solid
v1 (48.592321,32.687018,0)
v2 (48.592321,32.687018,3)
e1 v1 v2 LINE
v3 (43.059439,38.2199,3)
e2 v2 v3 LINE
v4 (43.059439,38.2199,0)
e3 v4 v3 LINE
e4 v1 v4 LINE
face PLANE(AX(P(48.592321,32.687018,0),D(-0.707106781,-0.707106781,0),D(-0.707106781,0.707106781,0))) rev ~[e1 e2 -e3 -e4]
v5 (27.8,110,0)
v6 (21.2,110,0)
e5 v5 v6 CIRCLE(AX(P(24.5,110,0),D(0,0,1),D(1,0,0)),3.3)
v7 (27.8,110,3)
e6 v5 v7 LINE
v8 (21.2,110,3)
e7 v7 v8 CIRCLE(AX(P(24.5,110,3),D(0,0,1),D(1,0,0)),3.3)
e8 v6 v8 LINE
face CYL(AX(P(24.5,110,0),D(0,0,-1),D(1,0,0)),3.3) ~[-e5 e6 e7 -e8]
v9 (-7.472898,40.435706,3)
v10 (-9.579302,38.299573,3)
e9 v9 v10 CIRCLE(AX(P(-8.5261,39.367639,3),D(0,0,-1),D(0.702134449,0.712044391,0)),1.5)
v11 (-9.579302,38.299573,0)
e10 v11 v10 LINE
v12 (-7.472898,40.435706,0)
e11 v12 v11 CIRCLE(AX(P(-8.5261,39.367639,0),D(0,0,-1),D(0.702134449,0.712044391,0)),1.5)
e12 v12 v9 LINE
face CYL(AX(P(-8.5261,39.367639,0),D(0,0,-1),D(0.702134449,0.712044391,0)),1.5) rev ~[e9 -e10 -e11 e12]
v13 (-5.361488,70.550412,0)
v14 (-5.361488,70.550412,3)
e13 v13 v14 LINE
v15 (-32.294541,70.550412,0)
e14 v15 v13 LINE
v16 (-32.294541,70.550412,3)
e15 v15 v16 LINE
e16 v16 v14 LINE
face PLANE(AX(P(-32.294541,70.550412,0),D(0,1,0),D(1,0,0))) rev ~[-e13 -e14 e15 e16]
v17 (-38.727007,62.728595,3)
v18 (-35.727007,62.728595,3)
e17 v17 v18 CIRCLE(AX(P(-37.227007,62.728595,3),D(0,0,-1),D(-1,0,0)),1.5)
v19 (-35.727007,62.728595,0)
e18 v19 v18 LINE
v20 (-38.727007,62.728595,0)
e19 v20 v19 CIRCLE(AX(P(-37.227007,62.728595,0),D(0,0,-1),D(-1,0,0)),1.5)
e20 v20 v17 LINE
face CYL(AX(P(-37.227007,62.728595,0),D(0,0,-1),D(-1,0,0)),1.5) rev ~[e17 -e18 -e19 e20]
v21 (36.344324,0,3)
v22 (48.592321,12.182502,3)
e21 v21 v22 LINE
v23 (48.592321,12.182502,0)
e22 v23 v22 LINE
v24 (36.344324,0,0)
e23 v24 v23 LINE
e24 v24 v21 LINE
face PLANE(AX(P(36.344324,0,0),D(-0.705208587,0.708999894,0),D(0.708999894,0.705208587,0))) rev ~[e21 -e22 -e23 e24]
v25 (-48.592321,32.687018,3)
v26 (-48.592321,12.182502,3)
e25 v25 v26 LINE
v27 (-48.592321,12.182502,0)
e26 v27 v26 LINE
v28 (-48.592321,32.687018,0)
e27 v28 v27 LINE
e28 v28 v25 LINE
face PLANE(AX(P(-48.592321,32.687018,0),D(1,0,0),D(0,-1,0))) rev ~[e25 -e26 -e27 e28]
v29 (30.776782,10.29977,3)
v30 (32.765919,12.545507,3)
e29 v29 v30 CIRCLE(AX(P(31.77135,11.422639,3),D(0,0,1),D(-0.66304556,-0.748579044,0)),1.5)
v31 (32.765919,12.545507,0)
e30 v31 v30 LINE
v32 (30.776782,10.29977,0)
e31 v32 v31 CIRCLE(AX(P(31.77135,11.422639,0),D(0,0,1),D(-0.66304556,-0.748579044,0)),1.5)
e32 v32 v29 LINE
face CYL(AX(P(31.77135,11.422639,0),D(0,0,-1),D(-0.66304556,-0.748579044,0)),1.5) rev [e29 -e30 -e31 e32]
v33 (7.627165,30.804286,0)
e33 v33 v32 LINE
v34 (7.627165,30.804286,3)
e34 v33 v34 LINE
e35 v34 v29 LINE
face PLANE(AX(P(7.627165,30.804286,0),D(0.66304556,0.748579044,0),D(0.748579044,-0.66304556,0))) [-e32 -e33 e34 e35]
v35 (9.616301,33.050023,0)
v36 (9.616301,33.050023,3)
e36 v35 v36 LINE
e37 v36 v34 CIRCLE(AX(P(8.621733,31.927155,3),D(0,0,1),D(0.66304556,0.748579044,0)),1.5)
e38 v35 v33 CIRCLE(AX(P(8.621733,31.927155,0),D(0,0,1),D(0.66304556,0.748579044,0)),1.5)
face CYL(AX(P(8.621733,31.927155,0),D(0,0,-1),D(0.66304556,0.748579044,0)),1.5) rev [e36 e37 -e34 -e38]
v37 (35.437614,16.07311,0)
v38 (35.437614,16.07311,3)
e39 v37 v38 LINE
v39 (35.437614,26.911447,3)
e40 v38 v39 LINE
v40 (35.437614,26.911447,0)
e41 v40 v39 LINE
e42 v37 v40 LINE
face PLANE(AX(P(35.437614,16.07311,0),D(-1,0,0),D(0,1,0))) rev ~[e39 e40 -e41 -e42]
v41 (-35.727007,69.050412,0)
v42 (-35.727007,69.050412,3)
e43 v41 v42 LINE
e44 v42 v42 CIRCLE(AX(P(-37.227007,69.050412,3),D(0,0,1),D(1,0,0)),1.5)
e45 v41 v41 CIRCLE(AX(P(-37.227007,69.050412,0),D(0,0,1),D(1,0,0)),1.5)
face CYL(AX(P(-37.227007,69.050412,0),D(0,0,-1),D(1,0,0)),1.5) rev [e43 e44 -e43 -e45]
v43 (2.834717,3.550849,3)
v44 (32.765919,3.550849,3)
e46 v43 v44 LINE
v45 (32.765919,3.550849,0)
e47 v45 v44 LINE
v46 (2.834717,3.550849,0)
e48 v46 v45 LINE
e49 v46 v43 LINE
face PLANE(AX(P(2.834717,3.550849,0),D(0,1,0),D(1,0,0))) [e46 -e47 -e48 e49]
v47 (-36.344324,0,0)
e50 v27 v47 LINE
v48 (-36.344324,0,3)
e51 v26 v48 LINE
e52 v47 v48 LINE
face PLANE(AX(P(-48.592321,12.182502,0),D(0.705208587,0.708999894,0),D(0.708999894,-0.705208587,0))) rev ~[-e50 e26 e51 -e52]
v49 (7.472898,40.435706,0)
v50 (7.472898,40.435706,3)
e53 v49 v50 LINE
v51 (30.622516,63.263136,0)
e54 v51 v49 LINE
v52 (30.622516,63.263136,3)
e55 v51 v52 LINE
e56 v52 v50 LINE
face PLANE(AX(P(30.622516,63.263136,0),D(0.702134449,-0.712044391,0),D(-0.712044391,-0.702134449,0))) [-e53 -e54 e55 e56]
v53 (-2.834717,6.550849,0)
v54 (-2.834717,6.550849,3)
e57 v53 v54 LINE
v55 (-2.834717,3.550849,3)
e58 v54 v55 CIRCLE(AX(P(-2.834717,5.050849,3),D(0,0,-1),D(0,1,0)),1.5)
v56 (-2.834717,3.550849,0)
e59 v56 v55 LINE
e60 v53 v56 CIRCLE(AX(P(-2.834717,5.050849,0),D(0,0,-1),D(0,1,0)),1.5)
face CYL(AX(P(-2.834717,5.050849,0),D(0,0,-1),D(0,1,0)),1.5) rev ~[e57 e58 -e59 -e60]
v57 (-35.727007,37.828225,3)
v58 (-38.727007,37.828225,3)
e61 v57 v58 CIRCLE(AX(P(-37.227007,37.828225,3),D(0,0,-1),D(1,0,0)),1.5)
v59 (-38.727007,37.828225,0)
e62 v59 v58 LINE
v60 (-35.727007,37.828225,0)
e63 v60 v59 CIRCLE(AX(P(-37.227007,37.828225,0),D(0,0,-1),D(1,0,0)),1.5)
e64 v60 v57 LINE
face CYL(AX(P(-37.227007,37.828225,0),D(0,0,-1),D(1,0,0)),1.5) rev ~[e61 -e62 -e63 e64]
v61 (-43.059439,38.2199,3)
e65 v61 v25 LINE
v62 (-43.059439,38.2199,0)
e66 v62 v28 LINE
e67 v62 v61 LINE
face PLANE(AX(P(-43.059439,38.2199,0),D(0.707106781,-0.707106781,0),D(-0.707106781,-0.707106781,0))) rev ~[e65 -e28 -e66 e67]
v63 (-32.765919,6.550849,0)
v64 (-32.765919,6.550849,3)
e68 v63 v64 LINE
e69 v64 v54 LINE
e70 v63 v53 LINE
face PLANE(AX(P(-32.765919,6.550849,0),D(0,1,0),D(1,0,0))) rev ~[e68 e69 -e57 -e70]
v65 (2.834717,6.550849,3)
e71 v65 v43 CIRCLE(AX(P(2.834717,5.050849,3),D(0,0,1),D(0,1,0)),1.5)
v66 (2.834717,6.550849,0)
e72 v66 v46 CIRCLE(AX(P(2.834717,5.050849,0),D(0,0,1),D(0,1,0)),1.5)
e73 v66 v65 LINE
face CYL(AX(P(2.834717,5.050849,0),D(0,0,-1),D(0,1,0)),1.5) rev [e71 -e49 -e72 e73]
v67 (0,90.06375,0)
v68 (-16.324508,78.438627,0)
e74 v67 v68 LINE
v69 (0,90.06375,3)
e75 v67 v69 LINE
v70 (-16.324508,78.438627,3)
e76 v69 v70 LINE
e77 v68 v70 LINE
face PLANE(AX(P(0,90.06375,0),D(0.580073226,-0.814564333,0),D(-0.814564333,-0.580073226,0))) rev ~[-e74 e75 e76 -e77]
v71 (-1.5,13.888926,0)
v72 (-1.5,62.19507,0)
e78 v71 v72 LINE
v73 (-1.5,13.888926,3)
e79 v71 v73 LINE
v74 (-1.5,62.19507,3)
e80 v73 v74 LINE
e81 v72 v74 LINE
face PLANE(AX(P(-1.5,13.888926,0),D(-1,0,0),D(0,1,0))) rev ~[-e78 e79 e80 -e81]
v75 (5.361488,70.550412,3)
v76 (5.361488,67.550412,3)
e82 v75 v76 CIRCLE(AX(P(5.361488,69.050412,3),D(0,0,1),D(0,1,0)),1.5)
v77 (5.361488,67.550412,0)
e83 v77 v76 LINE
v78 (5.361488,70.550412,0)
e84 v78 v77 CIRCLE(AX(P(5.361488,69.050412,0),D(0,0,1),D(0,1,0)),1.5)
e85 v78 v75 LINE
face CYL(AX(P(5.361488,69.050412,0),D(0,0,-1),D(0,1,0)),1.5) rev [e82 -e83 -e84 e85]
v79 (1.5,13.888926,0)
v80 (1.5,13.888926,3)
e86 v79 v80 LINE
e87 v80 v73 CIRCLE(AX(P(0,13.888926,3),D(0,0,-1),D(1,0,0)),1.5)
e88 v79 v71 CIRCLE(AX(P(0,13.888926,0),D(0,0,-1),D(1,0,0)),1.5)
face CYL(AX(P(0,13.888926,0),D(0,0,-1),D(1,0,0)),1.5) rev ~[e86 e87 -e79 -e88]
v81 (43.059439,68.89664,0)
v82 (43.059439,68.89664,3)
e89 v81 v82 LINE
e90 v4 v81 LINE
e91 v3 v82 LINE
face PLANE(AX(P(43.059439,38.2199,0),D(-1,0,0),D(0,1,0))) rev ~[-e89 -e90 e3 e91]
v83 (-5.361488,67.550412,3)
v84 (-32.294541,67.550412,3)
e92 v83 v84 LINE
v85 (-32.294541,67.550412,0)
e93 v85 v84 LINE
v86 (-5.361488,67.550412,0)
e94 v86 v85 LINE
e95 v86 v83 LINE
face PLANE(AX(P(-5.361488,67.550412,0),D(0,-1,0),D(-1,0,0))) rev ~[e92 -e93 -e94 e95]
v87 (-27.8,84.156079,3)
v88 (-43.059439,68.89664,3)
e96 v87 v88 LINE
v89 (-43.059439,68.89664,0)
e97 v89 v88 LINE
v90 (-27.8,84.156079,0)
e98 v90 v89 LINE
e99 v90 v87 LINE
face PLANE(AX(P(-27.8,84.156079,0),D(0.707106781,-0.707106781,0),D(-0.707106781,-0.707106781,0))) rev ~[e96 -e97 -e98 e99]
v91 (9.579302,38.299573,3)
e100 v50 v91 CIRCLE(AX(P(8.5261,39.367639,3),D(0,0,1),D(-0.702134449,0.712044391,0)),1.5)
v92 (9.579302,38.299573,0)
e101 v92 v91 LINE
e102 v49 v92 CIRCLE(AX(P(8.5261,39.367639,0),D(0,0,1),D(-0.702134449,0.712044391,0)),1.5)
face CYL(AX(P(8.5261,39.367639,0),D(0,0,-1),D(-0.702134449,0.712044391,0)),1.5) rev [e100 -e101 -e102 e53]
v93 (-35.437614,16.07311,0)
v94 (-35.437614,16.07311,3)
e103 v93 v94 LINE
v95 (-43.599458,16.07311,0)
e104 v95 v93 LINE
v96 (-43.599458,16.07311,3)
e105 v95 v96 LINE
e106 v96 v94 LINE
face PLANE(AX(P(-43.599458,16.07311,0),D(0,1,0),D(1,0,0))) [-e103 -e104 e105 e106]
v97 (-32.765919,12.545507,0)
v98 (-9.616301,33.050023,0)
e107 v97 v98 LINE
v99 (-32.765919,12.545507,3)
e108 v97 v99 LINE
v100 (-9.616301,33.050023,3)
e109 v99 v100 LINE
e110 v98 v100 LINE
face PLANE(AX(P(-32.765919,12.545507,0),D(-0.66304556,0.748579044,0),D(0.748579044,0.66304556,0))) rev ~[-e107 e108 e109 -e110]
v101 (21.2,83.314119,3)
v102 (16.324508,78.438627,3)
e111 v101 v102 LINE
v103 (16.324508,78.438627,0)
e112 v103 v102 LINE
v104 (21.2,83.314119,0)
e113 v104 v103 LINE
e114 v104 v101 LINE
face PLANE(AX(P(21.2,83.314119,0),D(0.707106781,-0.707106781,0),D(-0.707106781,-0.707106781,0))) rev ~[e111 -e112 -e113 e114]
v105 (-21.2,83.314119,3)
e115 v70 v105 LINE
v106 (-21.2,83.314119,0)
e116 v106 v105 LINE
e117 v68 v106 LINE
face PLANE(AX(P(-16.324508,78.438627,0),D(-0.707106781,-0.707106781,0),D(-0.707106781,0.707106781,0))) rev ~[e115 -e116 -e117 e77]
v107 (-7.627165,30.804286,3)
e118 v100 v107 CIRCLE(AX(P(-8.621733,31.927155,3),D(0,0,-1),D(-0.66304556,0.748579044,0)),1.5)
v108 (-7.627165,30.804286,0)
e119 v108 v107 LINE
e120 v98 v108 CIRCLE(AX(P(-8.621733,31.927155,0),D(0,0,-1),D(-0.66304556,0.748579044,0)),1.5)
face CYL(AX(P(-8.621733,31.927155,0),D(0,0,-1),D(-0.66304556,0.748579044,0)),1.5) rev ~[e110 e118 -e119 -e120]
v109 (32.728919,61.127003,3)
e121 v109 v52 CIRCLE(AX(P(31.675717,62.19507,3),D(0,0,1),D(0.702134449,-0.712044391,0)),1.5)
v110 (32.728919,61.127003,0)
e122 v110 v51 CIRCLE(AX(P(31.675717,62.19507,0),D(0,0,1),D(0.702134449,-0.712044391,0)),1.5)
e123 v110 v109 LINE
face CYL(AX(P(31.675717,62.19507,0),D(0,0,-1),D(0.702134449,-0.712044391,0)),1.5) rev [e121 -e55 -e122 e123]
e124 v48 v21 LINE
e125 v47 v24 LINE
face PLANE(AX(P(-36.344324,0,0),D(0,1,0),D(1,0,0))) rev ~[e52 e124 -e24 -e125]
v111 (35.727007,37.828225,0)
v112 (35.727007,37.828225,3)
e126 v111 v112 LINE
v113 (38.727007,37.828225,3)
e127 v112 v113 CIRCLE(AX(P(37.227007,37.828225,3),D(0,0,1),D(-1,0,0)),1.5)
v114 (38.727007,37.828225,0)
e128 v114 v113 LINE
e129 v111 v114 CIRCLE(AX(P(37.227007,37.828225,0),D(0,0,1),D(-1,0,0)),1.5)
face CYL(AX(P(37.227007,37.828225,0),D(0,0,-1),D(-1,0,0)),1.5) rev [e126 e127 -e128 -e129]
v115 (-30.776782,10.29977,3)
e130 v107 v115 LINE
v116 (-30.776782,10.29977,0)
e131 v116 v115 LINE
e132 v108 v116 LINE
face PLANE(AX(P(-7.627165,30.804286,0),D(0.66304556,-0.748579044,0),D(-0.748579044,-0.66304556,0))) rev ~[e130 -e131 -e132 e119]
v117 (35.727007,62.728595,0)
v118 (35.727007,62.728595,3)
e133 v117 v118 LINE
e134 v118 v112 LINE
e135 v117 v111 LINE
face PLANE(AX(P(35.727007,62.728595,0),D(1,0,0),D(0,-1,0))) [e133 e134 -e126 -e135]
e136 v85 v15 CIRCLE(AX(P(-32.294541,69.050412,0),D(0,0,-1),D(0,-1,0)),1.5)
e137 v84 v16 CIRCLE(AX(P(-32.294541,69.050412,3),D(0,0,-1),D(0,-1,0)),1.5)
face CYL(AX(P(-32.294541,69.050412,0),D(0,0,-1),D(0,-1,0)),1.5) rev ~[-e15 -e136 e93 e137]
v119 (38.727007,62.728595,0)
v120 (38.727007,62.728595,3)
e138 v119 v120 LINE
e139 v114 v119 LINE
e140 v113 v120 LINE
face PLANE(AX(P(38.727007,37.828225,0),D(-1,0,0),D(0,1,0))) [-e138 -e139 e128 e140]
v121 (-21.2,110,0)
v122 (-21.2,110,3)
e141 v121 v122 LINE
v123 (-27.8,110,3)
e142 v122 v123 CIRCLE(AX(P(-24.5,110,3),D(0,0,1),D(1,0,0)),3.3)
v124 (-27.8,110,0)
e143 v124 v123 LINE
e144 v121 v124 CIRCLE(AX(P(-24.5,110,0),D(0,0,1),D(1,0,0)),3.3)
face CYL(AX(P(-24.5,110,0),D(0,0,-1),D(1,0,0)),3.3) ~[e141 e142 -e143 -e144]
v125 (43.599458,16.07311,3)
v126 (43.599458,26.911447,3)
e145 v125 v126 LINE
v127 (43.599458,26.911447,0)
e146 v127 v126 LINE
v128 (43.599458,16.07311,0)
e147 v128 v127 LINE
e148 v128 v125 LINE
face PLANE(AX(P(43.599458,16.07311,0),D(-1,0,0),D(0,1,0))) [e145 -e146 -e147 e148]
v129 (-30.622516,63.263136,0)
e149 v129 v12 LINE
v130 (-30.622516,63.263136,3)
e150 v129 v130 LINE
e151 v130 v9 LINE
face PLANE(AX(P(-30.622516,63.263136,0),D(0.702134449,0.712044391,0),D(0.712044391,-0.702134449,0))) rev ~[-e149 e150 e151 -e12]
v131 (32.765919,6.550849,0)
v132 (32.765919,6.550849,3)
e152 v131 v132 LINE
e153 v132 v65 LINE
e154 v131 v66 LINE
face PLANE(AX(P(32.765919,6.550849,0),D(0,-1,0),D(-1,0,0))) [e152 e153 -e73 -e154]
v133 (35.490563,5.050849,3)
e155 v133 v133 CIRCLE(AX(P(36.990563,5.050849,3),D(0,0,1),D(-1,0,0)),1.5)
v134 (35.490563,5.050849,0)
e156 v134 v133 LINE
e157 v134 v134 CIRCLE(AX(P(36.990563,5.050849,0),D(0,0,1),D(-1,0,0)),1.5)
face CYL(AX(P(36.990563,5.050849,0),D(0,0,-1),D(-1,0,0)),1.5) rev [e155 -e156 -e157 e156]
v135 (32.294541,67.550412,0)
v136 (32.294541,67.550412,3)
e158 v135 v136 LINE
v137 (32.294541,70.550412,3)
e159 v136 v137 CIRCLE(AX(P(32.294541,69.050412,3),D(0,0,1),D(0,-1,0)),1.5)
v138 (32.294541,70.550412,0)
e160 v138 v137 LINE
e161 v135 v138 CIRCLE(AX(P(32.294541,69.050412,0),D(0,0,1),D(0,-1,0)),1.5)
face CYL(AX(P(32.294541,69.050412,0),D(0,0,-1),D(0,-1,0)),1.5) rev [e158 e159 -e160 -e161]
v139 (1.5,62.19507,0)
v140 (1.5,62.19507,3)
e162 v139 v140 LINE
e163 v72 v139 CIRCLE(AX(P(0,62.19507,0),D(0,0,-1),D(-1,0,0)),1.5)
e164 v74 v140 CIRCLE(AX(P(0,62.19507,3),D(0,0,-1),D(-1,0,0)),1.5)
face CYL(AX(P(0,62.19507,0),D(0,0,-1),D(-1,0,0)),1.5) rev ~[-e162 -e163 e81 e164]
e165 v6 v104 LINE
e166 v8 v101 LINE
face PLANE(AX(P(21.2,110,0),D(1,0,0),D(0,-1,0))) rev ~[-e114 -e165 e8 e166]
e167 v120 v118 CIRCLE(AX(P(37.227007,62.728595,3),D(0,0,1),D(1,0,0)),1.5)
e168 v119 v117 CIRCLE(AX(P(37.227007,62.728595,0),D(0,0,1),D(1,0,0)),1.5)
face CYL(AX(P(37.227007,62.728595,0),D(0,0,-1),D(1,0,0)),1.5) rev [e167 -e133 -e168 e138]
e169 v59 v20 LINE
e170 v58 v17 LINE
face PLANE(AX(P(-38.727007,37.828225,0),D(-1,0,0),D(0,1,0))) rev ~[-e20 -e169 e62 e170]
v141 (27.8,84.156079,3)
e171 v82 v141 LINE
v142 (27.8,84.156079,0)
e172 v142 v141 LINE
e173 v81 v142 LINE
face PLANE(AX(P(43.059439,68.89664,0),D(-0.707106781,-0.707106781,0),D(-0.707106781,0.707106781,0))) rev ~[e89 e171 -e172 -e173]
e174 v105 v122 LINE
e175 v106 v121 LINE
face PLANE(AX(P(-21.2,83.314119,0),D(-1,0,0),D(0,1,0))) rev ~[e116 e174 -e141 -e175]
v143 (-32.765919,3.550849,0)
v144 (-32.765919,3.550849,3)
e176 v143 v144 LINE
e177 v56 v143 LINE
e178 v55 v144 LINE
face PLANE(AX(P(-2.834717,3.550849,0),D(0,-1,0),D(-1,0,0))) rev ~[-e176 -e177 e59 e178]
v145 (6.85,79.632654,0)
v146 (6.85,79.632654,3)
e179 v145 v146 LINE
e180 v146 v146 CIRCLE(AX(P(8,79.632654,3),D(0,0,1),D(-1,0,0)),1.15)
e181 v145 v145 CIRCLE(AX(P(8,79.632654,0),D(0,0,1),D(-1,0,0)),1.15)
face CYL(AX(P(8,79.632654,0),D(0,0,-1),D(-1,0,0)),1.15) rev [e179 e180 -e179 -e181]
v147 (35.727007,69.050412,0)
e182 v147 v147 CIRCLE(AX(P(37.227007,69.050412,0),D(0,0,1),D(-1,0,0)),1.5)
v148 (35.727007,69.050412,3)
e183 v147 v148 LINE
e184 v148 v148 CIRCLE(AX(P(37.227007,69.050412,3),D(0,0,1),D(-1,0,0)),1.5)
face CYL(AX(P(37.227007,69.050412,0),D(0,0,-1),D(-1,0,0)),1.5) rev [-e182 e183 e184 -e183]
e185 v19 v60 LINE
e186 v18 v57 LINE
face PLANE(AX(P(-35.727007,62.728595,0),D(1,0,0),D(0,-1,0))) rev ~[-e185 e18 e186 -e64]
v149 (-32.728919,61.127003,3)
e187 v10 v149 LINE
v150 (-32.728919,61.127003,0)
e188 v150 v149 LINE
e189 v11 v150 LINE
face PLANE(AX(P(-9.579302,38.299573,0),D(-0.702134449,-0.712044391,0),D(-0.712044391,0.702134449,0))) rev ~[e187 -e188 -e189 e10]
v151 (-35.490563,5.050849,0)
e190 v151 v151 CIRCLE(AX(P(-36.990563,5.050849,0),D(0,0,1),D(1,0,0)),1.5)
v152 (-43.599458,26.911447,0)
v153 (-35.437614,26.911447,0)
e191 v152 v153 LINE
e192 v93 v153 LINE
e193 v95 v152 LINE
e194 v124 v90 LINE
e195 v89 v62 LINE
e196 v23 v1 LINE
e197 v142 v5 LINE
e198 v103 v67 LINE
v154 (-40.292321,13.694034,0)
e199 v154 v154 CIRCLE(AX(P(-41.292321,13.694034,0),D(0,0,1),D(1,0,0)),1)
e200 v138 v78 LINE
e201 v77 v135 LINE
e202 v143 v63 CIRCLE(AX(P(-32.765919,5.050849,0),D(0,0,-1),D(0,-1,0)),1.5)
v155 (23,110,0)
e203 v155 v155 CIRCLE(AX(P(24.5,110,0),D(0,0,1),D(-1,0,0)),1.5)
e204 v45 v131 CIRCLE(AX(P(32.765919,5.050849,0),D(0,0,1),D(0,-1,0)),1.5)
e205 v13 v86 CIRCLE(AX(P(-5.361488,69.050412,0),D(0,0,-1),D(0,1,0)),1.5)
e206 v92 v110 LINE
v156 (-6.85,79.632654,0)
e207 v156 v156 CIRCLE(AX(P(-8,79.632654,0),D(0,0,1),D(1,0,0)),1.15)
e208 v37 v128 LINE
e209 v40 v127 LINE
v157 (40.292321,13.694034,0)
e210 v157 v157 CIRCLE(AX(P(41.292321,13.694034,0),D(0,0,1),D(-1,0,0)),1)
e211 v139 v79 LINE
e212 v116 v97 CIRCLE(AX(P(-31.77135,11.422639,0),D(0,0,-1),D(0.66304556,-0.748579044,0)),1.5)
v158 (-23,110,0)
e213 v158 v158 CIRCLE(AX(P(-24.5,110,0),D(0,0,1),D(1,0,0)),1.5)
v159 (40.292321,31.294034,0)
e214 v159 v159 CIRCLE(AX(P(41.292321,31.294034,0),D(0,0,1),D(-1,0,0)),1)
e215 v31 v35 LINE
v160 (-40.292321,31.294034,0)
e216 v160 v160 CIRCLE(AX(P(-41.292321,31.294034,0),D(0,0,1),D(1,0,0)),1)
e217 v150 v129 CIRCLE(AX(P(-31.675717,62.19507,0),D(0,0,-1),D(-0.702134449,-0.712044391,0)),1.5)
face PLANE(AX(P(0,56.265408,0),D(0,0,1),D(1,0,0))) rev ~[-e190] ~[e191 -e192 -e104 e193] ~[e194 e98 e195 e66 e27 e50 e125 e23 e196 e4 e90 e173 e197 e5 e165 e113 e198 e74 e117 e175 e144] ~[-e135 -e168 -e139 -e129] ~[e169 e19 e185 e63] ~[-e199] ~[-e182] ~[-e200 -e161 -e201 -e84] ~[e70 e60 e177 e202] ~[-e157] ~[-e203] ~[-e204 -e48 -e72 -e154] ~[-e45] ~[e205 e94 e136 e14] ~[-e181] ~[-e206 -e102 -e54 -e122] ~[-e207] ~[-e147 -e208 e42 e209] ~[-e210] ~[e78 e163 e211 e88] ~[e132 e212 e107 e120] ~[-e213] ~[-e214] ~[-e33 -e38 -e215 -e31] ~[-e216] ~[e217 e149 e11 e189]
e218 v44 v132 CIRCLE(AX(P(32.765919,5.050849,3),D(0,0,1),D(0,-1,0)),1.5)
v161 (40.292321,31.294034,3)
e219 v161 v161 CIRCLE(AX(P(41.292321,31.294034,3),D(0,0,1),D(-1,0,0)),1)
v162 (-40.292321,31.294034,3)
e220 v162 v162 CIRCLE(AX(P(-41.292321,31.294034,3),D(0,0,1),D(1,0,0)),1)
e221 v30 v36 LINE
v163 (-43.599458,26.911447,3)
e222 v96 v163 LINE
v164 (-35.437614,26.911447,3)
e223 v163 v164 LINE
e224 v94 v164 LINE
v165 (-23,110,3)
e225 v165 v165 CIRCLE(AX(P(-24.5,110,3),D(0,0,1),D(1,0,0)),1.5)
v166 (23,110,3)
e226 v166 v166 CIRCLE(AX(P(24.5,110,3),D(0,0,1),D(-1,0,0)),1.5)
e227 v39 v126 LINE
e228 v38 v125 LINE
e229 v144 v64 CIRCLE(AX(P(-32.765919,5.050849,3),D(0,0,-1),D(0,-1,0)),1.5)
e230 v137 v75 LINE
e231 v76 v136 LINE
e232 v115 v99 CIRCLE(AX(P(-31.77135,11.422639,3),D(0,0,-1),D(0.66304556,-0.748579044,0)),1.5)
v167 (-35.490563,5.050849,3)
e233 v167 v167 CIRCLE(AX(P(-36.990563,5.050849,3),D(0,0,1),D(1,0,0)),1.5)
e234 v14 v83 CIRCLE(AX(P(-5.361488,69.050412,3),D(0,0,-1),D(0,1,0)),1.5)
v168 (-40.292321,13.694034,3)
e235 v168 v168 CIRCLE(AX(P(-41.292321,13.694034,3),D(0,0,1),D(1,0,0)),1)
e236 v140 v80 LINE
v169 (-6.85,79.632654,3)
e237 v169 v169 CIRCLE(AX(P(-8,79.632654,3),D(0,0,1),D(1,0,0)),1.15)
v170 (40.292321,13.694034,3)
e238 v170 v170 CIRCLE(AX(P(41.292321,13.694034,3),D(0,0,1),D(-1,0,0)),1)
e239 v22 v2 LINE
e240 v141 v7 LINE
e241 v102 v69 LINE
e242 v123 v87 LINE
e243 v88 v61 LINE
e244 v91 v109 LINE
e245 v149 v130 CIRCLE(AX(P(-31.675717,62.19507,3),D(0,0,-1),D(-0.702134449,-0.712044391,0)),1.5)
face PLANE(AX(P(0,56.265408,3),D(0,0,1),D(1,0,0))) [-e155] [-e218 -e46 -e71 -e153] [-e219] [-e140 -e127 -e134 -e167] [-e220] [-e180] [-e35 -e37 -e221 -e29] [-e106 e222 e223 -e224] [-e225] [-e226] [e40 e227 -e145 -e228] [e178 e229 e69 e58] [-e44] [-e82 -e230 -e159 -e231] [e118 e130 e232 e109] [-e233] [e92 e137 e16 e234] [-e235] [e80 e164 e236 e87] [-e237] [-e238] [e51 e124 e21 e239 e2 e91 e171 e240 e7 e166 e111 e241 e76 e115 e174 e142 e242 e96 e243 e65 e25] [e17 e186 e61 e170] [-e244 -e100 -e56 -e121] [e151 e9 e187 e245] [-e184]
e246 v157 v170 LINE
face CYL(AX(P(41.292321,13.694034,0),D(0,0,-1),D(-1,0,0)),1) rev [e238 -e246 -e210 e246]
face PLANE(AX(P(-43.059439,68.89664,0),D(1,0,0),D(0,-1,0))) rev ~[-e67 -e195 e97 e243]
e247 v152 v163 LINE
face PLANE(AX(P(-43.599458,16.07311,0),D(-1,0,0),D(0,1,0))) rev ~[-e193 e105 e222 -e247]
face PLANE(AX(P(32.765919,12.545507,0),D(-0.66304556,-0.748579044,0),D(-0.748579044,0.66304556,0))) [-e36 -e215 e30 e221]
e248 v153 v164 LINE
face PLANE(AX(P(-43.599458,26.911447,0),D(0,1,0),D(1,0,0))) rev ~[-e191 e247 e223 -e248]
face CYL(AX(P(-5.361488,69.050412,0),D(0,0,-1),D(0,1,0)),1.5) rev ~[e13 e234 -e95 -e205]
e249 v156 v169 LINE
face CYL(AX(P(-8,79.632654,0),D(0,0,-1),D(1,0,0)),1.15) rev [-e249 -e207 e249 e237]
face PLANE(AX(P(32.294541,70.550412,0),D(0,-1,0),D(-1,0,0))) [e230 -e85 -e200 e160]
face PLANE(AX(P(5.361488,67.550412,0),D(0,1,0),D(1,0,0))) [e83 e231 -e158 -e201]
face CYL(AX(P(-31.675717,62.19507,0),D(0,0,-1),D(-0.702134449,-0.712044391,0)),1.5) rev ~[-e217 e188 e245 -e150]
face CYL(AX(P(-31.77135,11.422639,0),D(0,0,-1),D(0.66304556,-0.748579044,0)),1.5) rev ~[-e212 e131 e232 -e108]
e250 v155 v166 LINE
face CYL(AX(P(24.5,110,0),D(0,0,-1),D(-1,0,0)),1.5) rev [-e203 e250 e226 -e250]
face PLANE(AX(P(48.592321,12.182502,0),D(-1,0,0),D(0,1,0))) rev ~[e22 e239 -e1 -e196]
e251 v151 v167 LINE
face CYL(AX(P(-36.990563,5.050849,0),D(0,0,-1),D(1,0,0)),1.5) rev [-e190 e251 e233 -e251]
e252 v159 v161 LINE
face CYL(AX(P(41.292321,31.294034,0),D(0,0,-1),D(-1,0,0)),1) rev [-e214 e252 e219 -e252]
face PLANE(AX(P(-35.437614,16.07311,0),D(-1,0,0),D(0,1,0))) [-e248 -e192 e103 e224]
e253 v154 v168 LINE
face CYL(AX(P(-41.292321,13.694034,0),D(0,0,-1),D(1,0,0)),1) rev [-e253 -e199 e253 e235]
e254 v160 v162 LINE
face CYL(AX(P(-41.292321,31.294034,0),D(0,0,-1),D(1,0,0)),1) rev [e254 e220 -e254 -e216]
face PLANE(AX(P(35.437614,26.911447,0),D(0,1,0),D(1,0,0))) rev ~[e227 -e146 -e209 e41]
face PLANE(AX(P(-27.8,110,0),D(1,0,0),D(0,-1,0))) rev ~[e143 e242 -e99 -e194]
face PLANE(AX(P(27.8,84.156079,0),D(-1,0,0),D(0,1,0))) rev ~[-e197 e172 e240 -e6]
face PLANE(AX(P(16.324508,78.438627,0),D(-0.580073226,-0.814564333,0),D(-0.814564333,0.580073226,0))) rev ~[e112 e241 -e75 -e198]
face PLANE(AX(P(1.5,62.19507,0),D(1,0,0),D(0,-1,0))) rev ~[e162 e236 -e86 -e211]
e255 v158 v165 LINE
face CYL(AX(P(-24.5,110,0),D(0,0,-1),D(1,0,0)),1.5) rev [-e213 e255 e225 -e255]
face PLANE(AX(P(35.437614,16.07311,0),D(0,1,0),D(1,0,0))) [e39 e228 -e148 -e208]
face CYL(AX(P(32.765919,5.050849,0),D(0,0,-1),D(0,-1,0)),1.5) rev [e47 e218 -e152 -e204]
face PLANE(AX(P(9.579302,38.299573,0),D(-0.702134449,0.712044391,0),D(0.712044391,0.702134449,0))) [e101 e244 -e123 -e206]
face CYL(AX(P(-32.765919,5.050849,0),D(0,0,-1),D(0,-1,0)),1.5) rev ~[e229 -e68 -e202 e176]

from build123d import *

# Parameters (mm, degrees)
MODEL_R         = 1.5
MODEL_R_2       = 1.15
MODEL_R_3       = 1
MODEL_W         = 8.161843832
MODEL_H         = 10.8383371
EXTRUDE_1_DEPTH = 3


with BuildPart() as part:
    # Model → 凸台-拉伸1 (new body)
    with BuildSketch(Plane.XY):
        with BuildLine():
            Line((-43.059438732, 38.219900225), (-48.592321023, 32.687017934))
            Line((-48.592321023, 32.687017934), (-48.592321023, 12.182501991))
            Line((-48.592321023, 12.182501991), (-36.344324073, 0))
            Line((-36.344324073, 0), (36.344324073, 0))
            Line((36.344324073, 0), (48.592321023, 12.182501991))
            Line((48.592321023, 12.182501991), (48.592321023, 32.687017934))
            Line((48.592321023, 32.687017934), (43.059438732, 38.219900225))
            Line((43.059438732, 38.219900225), (43.059438732, 68.896640242))
            Line((43.059438732, 68.896640242), (27.8, 84.156078975))
            Line((27.8, 84.156078975), (27.8, 110))
            ThreePointArc((27.8, 110), (24.5, 113.3), (21.2, 110))
            Line((21.2, 110), (21.2, 83.314119419))
            Line((21.2, 83.314119419), (16.324508054, 78.438627474))
            Line((16.324508054, 78.438627474), (0, 90.063749844))
            Line((0, 90.063749844), (-16.324508054, 78.438627474))
            Line((-16.324508054, 78.438627474), (-21.2, 83.314119419))
            Line((-21.2, 83.314119419), (-21.2, 110))
            ThreePointArc((-21.2, 110), (-24.5, 113.3), (-27.8, 110))
            Line((-27.8, 110), (-27.8, 84.156078975))
            Line((-27.8, 84.156078975), (-43.059438732, 68.896640242))
            Line((-43.059438732, 68.896640242), (-43.059438732, 38.219900225))
        make_face()
        with Locations((-24.5, 110)):
            Circle(MODEL_R, mode=Mode.SUBTRACT)
        with Locations(Location((8, 79.632653547, 0), (0, 0, 180))):
            Circle(MODEL_R_2, mode=Mode.SUBTRACT)
        with Locations(Location((36.990563228, 5.05084864, 0), (0, 0, 180))):
            Circle(MODEL_R, mode=Mode.SUBTRACT)
        with Locations(Location((37.227006719, 69.050411877, 0), (0, 0, 180))):
            Circle(MODEL_R, mode=Mode.SUBTRACT)
        with Locations((-41.292321023, 13.694034445)):
            Circle(MODEL_R_3, mode=Mode.SUBTRACT)
        with Locations((-41.292321023, 31.294034445)):
            Circle(MODEL_R_3, mode=Mode.SUBTRACT)
        with Locations(Location((41.292321023, 31.294034445, 0), (0, 0, 180))):
            Circle(MODEL_R_3, mode=Mode.SUBTRACT)
        with Locations((-37.227006719, 69.050411877)):
            Circle(MODEL_R, mode=Mode.SUBTRACT)
        with Locations((-36.990563228, 5.05084864)):
            Circle(MODEL_R, mode=Mode.SUBTRACT)
        with Locations(Location((41.292321023, 13.694034445, 0), (0, 0, 180))):
            Circle(MODEL_R_3, mode=Mode.SUBTRACT)
        with Locations((-8, 79.632653547)):
            Circle(MODEL_R_2, mode=Mode.SUBTRACT)
        with Locations(Location((24.5, 110, 0), (0, 0, 180))):
            Circle(MODEL_R, mode=Mode.SUBTRACT)
        with Locations((39.518535679, 21.492278657)):
            Rectangle(MODEL_W, MODEL_H, mode=Mode.SUBTRACT)
        with Locations((-39.518535679, 21.492278657)):
            Rectangle(MODEL_W, MODEL_H, mode=Mode.SUBTRACT)
        with BuildLine():
            Line((-32.294540613, 70.550411877), (-5.361487625, 70.550411877))
            ThreePointArc((-5.361487625, 70.550411877), (-3.861487625, 69.050411877), (-5.361487625, 67.550411877))
            Line((-5.361487625, 67.550411877), (-32.294540613, 67.550411877))
            ThreePointArc((-32.294540613, 67.550411877), (-33.794540613, 69.050411877), (-32.294540613, 70.550411877))
        make_face(mode=Mode.SUBTRACT)
        with BuildLine():
            Line((-35.727006719, 62.728595156), (-35.727006719, 37.828225412))
            ThreePointArc((-35.727006719, 37.828225412), (-37.227006719, 36.328225412), (-38.727006719, 37.828225412))
            Line((-38.727006719, 37.828225412), (-38.727006719, 62.728595156))
            ThreePointArc((-38.727006719, 62.728595156), (-37.227006719, 64.228595156), (-35.727006719, 62.728595156))
        make_face(mode=Mode.SUBTRACT)
        with BuildLine():
            Line((-30.622515674, 63.263136287), (-7.472898393, 40.435705899))
            ThreePointArc((-7.472898393, 40.435705899), (-7.45803348, 38.314437638), (-9.579301741, 38.299572725))
            Line((-9.579301741, 38.299572725), (-32.728919021, 61.127003113))
            ThreePointArc((-32.728919021, 61.127003113), (-32.743783934, 63.248271374), (-30.622515674, 63.263136287))
        make_face(mode=Mode.SUBTRACT)
        with BuildLine():
            Line((-7.627164767, 30.804285944), (-30.776782047, 10.299770001))
            ThreePointArc((-30.776782047, 10.299770001), (-32.894218954, 10.428070228), (-32.765918727, 12.545507134))
            Line((-32.765918727, 12.545507134), (-9.616301447, 33.050023077))
            ThreePointArc((-9.616301447, 33.050023077), (-7.49886454, 32.92172285), (-7.627164767, 30.804285944))
        make_face(mode=Mode.SUBTRACT)
        with BuildLine():
            Line((-32.765918727, 6.55084864), (-2.834717307, 6.55084864))
            ThreePointArc((-2.834717307, 6.55084864), (-1.334717307, 5.05084864), (-2.834717307, 3.55084864))
            Line((-2.834717307, 3.55084864), (-32.765918727, 3.55084864))
            ThreePointArc((-32.765918727, 3.55084864), (-34.265918727, 5.05084864), (-32.765918727, 6.55084864))
        make_face(mode=Mode.SUBTRACT)
        with BuildLine():
            Line((32.765918727, 6.55084864), (2.834717307, 6.55084864))
            ThreePointArc((2.834717307, 6.55084864), (1.334717307, 5.05084864), (2.834717307, 3.55084864))
            Line((2.834717307, 3.55084864), (32.765918727, 3.55084864))
            ThreePointArc((32.765918727, 3.55084864), (34.265918727, 5.05084864), (32.765918727, 6.55084864))
        make_face(mode=Mode.SUBTRACT)
        with BuildLine():
            Line((7.627164767, 30.804285944), (30.776782047, 10.299770001))
            ThreePointArc((30.776782047, 10.299770001), (32.894218954, 10.428070228), (32.765918727, 12.545507134))
            Line((32.765918727, 12.545507134), (9.616301447, 33.050023077))
            ThreePointArc((9.616301447, 33.050023077), (7.49886454, 32.92172285), (7.627164767, 30.804285944))
        make_face(mode=Mode.SUBTRACT)
        with BuildLine():
            Line((35.727006719, 62.728595156), (35.727006719, 37.828225412))
            ThreePointArc((35.727006719, 37.828225412), (37.227006719, 36.328225412), (38.727006719, 37.828225412))
            Line((38.727006719, 37.828225412), (38.727006719, 62.728595156))
            ThreePointArc((38.727006719, 62.728595156), (37.227006719, 64.228595156), (35.727006719, 62.728595156))
        make_face(mode=Mode.SUBTRACT)
        with BuildLine():
            Line((30.622515674, 63.263136287), (7.472898393, 40.435705899))
            ThreePointArc((7.472898393, 40.435705899), (7.45803348, 38.314437638), (9.579301741, 38.299572725))
            Line((9.579301741, 38.299572725), (32.728919021, 61.127003113))
            ThreePointArc((32.728919021, 61.127003113), (32.743783934, 63.248271374), (30.622515674, 63.263136287))
        make_face(mode=Mode.SUBTRACT)
        with BuildLine():
            Line((32.294540613, 70.550411877), (5.361487625, 70.550411877))
            ThreePointArc((5.361487625, 70.550411877), (3.861487625, 69.050411877), (5.361487625, 67.550411877))
            Line((5.361487625, 67.550411877), (32.294540613, 67.550411877))
            ThreePointArc((32.294540613, 67.550411877), (33.794540613, 69.050411877), (32.294540613, 70.550411877))
        make_face(mode=Mode.SUBTRACT)
        with BuildLine():
            Line((1.5, 62.1950697), (1.5, 13.888925857))
            ThreePointArc((1.5, 13.888925857), (0, 12.388925857), (-1.5, 13.888925857))
            Line((-1.5, 13.888925857), (-1.5, 62.1950697))
            ThreePointArc((-1.5, 62.1950697), (0, 63.6950697), (1.5, 62.1950697))
        make_face(mode=Mode.SUBTRACT)
    extrude(amount=EXTRUDE_1_DEPTH)


solid = part.part
